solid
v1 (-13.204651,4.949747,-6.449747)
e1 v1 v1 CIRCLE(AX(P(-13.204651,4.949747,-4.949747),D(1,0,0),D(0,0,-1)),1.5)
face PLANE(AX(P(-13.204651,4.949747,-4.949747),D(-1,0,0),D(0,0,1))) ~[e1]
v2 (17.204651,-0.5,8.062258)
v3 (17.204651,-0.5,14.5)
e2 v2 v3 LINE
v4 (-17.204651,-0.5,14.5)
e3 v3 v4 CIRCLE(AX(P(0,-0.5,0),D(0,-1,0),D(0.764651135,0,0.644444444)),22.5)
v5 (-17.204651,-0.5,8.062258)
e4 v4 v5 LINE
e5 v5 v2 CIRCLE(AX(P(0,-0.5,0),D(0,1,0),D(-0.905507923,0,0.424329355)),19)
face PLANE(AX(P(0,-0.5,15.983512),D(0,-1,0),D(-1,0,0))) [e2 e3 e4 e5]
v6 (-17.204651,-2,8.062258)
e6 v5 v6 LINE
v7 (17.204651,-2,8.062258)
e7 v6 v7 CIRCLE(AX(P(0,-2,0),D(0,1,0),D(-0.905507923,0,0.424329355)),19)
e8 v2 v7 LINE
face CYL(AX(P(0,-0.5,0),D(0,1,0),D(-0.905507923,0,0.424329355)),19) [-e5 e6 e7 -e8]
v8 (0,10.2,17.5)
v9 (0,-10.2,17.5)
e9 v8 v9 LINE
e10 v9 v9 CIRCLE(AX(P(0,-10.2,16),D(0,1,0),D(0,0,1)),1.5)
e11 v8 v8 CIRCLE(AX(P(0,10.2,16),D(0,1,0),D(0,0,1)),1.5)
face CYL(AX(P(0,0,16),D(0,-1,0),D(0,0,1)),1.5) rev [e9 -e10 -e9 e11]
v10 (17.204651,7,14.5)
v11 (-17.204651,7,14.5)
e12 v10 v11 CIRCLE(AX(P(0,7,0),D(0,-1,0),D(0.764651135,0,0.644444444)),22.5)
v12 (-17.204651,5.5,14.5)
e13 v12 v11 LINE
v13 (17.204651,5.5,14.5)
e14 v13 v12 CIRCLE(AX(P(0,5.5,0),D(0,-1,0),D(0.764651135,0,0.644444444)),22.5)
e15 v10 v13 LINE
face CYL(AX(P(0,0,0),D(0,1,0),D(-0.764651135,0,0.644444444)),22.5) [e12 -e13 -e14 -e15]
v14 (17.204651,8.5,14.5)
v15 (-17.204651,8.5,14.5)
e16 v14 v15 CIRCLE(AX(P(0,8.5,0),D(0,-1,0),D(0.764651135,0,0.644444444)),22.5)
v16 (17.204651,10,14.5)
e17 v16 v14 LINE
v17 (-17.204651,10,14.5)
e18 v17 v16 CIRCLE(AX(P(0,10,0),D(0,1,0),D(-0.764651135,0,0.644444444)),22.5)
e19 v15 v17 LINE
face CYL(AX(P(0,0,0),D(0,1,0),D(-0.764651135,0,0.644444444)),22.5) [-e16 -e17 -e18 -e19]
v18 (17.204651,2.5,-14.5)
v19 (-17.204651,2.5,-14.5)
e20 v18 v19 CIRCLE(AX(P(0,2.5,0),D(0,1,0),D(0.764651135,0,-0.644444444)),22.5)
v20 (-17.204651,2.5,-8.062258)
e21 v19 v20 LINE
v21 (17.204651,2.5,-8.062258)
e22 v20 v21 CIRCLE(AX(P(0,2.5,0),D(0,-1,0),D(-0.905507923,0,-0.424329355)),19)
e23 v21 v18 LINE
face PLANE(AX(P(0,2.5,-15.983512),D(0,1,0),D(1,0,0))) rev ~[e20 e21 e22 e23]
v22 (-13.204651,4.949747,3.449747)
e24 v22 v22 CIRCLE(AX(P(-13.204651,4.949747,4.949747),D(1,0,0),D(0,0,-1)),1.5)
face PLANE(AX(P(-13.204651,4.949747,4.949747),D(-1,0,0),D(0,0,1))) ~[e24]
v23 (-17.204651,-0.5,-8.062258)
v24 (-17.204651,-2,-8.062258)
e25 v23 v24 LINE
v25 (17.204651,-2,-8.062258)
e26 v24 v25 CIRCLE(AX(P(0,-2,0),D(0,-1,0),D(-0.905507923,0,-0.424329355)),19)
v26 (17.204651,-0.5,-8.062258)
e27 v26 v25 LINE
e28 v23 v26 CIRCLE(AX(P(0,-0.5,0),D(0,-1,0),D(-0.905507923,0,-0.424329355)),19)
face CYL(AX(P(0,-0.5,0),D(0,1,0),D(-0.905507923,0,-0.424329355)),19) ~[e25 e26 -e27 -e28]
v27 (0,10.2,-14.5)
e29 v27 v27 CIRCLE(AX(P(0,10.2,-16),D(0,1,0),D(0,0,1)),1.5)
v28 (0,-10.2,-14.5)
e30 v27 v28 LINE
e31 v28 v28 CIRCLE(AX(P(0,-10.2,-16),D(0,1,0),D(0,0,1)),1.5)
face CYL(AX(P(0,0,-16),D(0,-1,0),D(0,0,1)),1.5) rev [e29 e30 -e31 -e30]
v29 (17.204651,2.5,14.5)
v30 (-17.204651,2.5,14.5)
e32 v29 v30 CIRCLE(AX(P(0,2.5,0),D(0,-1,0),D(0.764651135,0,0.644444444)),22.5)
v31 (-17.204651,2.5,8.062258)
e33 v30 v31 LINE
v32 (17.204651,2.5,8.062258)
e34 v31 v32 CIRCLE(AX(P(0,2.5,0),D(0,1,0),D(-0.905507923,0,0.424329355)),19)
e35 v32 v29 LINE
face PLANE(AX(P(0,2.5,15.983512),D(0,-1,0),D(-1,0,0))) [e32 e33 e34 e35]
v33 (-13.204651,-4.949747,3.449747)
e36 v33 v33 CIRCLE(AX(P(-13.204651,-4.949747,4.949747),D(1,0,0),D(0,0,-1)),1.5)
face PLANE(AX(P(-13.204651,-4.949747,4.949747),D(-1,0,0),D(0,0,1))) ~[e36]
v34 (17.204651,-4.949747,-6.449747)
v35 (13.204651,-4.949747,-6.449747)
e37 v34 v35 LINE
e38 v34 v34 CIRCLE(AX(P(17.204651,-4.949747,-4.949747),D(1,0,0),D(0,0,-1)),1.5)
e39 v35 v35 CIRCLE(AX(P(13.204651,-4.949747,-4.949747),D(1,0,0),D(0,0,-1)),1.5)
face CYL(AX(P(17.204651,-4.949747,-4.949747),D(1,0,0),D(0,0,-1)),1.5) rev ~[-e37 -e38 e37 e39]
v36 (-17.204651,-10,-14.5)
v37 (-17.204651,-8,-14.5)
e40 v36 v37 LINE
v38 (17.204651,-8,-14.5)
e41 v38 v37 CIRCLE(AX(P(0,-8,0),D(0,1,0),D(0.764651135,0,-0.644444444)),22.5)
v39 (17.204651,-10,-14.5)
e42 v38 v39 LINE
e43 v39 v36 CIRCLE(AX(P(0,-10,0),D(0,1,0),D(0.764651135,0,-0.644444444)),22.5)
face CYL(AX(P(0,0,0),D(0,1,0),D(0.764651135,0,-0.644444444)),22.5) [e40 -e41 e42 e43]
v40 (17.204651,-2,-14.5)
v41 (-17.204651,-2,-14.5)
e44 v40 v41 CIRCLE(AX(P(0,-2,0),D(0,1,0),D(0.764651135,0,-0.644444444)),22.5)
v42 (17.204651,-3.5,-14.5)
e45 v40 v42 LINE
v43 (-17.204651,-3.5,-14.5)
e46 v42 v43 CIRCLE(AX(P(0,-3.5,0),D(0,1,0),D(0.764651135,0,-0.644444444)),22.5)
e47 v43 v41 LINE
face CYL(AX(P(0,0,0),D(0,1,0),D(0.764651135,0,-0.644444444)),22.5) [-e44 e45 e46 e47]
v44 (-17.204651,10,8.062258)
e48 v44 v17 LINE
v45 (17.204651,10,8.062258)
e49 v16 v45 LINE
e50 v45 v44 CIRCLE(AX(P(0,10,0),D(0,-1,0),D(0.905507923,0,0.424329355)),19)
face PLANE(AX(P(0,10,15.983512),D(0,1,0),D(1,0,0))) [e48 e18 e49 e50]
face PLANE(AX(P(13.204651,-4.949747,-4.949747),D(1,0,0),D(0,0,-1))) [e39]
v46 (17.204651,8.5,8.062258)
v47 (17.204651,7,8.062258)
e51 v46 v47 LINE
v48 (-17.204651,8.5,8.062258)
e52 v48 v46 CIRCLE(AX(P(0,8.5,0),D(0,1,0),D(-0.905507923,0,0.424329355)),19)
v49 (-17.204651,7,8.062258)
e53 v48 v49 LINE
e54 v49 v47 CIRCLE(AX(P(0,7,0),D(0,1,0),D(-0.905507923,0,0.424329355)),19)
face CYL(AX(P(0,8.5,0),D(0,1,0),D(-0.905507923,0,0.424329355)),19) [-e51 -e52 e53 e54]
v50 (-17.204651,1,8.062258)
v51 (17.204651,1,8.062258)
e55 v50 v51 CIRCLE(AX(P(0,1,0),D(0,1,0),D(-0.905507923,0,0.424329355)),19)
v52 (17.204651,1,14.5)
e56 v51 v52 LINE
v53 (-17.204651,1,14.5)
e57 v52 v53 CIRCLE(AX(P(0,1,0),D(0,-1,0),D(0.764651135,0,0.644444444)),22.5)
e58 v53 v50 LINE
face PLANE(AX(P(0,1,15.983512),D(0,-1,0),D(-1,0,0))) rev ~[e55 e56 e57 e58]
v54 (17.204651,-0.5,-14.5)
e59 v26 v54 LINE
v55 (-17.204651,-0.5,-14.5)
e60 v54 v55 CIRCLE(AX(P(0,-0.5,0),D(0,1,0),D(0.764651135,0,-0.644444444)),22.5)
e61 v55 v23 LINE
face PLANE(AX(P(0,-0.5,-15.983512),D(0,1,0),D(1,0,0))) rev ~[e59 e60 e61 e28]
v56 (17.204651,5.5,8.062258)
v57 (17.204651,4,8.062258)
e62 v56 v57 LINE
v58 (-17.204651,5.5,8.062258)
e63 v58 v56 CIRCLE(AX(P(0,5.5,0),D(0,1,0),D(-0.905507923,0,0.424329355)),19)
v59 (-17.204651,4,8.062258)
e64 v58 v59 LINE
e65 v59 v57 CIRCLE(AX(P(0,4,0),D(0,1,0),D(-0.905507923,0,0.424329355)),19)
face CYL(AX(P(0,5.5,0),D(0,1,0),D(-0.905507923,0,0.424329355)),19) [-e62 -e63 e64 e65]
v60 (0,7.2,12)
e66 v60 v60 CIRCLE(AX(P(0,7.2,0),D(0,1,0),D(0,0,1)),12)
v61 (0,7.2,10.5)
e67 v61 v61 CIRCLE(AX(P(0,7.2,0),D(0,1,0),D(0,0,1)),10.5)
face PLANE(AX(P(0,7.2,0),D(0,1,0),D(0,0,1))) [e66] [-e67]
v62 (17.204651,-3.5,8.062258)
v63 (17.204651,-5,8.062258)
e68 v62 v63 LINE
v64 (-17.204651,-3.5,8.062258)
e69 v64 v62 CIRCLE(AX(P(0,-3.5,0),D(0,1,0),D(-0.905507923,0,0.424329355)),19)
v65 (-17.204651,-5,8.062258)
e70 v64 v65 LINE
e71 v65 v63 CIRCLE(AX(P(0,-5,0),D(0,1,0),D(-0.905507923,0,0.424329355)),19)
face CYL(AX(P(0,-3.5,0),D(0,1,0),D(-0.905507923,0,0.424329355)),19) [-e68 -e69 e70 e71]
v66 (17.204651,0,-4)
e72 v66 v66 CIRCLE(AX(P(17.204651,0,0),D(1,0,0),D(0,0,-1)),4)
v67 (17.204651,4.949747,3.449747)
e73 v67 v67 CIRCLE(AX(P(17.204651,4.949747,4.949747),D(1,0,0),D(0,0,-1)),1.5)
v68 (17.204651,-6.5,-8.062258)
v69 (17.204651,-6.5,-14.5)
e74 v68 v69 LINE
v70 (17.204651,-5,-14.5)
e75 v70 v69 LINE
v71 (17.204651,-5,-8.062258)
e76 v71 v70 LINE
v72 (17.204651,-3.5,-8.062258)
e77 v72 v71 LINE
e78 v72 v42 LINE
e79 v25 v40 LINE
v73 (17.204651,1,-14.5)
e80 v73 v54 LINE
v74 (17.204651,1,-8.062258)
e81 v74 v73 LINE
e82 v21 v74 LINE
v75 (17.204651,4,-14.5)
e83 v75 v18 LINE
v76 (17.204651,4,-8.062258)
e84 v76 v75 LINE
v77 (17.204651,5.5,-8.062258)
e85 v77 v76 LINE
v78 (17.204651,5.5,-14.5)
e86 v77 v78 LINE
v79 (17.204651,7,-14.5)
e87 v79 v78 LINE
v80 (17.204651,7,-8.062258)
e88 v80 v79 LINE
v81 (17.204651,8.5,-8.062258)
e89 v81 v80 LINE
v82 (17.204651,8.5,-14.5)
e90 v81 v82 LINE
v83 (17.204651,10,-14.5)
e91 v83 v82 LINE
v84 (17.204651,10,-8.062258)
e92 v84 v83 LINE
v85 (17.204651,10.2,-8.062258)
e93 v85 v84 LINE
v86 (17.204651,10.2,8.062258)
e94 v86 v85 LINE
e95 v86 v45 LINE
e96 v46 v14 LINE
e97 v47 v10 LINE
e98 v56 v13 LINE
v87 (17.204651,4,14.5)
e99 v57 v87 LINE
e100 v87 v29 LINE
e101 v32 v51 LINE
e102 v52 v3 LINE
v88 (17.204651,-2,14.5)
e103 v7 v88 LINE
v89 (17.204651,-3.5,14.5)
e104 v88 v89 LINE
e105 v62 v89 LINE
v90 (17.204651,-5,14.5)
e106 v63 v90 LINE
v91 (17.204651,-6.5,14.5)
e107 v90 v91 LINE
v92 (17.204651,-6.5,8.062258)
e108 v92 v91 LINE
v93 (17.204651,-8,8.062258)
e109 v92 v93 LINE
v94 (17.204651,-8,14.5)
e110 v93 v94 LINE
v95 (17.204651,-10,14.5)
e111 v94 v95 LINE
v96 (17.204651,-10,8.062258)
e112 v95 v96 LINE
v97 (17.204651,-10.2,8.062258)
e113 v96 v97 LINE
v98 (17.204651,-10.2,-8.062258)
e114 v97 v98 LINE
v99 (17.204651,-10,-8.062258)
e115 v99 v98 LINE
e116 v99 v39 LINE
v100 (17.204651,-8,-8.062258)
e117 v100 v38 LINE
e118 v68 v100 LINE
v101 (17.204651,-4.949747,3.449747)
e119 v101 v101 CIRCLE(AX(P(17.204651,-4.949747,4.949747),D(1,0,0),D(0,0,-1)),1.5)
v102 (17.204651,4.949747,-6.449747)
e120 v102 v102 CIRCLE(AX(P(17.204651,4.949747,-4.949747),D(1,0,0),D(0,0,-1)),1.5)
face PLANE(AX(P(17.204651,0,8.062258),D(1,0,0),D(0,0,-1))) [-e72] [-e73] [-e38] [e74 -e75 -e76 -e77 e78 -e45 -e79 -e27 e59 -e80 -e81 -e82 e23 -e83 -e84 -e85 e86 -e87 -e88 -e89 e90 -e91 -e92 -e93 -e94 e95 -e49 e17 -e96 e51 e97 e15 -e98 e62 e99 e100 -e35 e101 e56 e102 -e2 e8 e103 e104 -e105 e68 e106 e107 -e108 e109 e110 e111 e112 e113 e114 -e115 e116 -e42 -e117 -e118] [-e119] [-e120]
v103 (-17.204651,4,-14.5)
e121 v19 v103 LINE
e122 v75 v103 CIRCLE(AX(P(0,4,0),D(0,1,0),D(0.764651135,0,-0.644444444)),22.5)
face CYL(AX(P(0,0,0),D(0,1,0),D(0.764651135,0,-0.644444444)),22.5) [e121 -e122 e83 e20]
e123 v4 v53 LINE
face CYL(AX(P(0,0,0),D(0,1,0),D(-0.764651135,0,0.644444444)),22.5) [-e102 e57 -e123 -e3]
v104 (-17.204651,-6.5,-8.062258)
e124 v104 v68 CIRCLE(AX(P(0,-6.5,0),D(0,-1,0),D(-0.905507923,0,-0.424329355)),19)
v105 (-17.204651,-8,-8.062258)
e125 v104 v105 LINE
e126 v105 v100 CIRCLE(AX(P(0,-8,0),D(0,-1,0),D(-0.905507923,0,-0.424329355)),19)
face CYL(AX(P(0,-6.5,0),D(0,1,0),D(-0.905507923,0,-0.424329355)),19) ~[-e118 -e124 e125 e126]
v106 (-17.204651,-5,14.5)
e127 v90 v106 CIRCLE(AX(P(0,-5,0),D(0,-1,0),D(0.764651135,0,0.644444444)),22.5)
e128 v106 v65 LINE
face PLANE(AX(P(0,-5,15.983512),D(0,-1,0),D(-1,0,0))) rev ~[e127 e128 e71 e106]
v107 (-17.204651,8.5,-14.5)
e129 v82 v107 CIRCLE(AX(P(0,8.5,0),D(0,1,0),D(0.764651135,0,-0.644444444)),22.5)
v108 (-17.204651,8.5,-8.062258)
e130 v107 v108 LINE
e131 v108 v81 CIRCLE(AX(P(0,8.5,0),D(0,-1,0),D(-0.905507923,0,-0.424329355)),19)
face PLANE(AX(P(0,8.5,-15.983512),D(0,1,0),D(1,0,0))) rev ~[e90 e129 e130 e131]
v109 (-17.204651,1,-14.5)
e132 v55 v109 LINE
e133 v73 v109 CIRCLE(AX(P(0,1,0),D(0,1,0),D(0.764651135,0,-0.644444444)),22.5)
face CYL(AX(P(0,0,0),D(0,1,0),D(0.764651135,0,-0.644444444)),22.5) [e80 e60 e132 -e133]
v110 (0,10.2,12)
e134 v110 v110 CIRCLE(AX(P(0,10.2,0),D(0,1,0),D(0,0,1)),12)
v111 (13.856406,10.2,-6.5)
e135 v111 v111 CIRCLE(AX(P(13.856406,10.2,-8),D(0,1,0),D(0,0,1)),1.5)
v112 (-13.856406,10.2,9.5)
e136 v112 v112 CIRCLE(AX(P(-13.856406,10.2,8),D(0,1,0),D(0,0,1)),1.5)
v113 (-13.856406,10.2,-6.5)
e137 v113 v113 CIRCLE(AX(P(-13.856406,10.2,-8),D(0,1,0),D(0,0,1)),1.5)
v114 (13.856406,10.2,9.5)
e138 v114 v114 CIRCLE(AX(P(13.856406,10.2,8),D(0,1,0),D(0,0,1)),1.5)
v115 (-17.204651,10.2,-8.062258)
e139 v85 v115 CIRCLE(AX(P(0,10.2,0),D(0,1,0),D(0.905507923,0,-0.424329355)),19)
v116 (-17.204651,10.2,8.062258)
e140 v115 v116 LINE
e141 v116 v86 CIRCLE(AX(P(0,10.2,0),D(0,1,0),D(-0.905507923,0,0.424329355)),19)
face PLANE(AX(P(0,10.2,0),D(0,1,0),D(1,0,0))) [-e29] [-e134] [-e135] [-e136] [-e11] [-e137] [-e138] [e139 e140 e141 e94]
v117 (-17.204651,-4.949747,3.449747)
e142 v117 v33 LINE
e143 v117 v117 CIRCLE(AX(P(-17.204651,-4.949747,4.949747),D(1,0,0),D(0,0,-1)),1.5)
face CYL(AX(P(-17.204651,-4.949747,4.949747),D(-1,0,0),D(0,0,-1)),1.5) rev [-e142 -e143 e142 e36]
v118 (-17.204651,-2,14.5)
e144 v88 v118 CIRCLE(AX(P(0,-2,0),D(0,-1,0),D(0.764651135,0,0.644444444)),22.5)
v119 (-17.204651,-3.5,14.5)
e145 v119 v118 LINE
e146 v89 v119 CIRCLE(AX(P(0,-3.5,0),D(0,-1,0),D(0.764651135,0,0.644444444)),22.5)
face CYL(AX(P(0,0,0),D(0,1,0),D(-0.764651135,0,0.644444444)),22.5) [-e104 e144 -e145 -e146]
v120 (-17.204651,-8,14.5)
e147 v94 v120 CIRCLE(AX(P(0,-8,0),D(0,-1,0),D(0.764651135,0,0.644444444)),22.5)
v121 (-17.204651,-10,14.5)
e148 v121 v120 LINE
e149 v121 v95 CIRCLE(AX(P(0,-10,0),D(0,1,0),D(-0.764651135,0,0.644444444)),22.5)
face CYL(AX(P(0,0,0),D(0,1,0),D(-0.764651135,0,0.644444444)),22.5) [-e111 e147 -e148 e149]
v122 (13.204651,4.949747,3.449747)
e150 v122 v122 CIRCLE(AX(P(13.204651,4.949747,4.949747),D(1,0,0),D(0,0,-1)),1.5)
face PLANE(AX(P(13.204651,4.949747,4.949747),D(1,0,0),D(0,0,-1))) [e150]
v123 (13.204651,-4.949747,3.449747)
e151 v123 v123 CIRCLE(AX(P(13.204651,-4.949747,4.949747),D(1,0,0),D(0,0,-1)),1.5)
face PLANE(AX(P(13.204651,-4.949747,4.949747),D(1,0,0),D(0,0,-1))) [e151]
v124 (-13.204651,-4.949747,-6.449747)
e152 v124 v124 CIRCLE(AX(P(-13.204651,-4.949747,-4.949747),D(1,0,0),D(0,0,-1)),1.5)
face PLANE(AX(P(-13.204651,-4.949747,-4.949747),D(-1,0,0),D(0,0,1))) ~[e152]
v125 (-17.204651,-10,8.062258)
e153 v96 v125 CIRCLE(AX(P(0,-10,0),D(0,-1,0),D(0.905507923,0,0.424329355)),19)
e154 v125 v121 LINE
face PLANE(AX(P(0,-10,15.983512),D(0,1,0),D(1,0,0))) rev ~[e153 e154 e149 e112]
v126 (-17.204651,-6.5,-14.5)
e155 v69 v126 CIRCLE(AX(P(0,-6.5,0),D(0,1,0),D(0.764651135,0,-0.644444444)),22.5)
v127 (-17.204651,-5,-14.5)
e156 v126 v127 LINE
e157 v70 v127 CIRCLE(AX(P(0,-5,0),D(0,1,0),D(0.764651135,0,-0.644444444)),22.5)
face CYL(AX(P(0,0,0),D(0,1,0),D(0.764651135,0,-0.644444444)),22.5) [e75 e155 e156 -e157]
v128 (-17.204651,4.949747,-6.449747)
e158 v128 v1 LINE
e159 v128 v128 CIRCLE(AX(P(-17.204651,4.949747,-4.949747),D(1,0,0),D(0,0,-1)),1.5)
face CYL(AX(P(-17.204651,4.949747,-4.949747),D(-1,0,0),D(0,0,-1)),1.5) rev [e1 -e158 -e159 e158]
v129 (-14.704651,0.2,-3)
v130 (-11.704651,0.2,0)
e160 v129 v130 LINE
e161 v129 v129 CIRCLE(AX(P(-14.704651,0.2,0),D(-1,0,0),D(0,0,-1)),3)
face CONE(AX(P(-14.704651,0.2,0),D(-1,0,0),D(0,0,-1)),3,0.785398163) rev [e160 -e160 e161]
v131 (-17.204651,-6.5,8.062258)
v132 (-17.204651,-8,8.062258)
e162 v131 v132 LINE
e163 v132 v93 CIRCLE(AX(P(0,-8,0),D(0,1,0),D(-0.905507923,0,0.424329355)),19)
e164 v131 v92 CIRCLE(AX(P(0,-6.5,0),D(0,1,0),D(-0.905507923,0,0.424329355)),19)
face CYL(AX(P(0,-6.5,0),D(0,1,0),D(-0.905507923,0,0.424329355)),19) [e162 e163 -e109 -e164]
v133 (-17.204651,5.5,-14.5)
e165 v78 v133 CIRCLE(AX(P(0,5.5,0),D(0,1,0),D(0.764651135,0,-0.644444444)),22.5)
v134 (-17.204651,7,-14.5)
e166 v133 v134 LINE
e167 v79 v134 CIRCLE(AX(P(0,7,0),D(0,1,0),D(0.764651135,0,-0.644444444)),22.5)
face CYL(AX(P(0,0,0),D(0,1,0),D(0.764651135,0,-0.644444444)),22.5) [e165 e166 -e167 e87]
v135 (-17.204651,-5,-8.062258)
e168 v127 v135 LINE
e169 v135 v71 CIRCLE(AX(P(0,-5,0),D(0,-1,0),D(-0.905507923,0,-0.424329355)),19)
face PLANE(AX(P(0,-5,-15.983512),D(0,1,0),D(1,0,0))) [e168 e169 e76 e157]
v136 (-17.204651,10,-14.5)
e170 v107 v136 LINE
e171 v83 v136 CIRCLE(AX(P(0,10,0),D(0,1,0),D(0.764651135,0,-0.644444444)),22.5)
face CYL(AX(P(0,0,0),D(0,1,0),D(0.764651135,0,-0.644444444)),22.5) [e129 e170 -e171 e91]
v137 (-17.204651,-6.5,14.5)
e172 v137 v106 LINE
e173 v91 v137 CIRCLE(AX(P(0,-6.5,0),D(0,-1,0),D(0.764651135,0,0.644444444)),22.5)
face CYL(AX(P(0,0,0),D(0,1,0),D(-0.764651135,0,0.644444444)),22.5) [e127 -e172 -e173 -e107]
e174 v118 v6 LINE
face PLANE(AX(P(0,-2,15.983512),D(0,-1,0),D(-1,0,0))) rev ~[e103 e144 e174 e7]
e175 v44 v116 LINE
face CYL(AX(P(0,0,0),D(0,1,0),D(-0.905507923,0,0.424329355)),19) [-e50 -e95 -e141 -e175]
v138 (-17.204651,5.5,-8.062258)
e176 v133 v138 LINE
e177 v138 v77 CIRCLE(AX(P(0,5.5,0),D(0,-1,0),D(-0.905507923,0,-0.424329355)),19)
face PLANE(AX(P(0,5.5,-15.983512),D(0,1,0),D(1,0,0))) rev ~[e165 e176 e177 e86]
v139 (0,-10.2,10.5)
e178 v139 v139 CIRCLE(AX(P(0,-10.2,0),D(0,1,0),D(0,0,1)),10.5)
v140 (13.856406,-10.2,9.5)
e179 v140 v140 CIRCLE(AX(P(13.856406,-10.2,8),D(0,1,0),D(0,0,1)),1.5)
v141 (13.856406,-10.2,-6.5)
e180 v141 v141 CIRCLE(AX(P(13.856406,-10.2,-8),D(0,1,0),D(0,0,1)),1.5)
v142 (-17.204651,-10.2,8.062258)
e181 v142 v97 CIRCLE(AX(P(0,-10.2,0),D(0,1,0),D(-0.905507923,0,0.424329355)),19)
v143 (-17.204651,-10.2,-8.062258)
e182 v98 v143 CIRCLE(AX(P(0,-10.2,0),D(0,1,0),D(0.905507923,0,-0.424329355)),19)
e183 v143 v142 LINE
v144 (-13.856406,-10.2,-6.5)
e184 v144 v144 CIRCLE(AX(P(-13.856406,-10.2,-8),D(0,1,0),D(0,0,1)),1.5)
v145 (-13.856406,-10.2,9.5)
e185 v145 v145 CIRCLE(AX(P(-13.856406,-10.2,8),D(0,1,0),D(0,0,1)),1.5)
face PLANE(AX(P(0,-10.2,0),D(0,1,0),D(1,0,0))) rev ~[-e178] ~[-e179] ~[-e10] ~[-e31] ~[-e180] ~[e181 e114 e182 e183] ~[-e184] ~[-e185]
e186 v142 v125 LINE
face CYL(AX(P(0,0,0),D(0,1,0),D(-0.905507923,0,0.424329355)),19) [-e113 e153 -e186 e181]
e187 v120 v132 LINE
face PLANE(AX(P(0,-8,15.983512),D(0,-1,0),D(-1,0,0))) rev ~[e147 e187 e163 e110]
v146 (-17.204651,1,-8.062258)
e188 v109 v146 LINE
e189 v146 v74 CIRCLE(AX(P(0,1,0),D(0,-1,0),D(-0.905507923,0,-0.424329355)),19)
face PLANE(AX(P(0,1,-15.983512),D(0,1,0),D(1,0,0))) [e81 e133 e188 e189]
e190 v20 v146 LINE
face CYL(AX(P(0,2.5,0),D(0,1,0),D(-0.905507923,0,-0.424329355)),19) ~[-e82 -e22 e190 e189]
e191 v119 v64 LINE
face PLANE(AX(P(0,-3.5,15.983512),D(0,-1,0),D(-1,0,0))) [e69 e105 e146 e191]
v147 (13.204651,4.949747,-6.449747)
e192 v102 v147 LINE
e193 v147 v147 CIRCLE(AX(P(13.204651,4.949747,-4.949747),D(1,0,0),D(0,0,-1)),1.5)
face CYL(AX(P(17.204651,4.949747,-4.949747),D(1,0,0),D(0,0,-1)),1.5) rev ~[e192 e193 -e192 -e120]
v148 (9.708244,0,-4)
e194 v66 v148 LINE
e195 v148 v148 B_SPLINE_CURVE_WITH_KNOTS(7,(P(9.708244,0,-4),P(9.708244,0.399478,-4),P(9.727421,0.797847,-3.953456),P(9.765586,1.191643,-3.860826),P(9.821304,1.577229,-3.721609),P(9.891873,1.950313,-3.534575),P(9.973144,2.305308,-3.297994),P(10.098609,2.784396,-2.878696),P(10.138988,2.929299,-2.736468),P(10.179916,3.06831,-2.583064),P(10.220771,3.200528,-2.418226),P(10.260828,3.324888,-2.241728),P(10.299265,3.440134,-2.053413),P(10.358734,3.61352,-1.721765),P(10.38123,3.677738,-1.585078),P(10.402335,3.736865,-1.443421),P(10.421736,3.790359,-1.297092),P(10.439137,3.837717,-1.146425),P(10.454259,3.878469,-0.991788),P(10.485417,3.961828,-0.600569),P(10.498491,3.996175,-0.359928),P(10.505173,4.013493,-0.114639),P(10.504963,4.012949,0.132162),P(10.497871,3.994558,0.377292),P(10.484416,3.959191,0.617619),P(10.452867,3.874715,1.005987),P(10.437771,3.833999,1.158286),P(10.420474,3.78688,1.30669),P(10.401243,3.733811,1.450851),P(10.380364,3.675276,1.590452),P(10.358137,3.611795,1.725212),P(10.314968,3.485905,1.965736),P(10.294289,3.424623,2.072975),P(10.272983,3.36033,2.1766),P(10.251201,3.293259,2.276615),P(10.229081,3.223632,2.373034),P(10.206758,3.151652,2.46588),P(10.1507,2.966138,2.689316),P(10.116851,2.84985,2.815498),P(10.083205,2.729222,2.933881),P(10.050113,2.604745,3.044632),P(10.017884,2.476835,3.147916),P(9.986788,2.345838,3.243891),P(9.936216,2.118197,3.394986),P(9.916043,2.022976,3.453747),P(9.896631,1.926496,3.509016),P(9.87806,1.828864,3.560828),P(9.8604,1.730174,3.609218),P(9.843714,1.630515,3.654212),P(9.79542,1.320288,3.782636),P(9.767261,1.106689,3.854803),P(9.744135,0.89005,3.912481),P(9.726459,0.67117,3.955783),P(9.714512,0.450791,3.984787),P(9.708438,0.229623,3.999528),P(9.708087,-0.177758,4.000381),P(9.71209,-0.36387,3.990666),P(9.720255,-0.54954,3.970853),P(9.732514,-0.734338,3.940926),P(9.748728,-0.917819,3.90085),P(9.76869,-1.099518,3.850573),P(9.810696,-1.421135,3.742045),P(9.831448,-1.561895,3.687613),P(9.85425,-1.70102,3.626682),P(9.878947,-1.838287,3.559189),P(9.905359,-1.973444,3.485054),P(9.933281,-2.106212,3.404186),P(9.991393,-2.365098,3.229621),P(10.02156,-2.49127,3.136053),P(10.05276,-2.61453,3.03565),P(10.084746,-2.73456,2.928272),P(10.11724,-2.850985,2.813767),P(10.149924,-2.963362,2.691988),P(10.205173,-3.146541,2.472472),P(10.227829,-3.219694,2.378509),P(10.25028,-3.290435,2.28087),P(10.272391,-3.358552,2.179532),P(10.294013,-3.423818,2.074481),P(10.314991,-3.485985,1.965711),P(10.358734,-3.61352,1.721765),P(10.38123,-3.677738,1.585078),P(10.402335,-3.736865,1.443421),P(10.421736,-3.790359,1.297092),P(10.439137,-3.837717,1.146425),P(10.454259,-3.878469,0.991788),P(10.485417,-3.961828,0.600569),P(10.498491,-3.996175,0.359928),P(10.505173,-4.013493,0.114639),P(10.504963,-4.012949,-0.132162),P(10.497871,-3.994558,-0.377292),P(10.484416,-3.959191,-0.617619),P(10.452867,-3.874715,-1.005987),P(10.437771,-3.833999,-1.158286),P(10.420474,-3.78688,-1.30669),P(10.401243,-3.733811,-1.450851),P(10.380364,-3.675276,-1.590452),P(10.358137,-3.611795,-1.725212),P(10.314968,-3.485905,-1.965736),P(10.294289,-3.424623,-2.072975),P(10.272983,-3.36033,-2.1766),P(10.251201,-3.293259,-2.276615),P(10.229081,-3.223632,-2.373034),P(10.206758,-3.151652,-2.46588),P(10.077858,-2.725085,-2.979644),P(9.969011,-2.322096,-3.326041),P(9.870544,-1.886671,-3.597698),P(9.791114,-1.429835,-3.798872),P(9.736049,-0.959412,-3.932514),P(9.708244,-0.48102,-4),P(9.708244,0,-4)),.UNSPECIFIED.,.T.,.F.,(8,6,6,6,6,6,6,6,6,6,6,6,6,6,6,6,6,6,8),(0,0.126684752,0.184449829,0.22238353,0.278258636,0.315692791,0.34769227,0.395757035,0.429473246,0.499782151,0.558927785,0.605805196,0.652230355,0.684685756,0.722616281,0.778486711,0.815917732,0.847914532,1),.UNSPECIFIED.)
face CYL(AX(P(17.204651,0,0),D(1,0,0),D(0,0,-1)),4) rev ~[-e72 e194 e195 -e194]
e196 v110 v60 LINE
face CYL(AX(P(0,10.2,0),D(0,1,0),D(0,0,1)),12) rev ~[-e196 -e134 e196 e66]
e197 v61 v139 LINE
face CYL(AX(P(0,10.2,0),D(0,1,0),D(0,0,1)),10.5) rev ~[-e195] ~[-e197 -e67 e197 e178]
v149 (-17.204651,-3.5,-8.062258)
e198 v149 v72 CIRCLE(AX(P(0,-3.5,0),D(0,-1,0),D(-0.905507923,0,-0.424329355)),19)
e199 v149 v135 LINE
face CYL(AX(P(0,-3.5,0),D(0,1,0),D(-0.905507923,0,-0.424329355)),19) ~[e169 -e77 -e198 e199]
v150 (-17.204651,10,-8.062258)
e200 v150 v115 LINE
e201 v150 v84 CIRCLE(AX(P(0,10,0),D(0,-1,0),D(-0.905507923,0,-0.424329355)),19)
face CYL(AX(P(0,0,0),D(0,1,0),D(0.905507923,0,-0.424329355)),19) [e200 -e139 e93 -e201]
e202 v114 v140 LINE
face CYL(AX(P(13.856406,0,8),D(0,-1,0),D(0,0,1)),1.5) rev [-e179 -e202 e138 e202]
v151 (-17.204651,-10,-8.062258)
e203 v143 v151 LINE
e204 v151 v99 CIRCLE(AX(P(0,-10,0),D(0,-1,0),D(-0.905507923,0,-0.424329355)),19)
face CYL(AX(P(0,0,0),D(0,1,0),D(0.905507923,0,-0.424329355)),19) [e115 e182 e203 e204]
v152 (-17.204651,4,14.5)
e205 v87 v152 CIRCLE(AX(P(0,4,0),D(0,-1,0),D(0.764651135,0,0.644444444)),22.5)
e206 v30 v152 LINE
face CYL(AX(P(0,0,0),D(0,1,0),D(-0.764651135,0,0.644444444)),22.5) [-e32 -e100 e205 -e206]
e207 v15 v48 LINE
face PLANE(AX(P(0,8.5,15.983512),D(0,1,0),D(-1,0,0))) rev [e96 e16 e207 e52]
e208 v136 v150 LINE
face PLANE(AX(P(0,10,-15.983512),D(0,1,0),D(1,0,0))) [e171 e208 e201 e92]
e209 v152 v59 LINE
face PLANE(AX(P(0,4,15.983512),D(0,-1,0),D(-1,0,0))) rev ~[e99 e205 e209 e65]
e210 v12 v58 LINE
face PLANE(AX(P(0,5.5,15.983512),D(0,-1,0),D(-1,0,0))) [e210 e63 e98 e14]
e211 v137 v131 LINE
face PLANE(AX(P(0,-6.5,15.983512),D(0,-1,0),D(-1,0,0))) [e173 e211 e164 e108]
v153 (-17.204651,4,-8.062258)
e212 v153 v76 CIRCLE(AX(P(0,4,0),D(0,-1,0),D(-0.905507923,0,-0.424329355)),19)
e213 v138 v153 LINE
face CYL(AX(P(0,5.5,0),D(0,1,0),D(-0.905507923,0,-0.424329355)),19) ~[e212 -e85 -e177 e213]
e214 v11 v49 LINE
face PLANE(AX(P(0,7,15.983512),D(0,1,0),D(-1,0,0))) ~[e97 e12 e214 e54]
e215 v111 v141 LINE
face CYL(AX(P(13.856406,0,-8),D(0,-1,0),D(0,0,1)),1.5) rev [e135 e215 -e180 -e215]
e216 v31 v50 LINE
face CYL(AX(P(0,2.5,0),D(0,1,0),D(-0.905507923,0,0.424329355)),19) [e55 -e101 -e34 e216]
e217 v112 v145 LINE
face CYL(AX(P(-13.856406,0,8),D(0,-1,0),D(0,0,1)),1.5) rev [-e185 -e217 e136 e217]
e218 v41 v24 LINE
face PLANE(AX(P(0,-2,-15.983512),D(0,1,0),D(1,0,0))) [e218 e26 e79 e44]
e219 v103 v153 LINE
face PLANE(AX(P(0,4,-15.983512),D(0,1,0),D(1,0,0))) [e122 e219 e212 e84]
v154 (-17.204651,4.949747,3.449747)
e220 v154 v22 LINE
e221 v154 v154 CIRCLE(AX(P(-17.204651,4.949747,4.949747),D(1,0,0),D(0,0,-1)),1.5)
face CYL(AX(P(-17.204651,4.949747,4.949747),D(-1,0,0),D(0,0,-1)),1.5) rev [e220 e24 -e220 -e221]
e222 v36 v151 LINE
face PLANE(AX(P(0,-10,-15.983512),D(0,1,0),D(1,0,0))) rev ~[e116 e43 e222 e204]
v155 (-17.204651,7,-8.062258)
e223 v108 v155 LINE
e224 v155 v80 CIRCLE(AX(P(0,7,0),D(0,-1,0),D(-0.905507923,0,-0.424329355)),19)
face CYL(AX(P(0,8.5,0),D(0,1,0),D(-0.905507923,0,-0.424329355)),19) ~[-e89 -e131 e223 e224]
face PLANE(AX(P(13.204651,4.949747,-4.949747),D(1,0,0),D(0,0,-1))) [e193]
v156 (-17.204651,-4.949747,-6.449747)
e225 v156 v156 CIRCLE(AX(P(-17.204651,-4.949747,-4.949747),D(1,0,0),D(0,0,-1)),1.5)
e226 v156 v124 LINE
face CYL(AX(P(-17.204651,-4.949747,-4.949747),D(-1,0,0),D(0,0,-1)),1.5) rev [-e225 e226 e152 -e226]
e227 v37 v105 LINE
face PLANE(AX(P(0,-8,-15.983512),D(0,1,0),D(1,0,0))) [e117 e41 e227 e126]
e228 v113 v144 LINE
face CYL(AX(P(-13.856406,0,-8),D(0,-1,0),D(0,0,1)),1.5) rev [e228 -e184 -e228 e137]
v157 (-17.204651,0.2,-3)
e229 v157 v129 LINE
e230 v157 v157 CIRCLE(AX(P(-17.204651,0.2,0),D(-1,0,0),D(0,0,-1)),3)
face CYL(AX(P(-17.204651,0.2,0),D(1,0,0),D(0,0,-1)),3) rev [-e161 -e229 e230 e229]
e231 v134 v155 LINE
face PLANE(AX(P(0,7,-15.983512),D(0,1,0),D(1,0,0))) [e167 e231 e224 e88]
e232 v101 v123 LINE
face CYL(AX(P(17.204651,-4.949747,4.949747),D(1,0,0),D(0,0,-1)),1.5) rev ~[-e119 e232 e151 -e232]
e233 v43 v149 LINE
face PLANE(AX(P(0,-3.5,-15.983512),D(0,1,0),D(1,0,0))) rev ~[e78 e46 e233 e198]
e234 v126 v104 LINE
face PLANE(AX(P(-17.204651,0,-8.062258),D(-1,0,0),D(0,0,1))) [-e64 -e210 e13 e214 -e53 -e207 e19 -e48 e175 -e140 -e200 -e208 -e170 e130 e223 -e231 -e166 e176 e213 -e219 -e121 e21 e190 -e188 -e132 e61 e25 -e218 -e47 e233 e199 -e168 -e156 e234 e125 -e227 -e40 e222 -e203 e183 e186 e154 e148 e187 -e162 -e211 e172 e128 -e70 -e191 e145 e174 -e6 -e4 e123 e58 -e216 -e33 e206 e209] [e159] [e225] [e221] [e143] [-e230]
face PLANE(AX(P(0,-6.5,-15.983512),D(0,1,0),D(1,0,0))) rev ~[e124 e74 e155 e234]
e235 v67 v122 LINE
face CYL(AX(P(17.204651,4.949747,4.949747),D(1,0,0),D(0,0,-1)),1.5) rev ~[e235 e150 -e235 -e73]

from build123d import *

# Parameters (mm, degrees)
BOSS_EXTRUDE1_DEPTH     = 10
BOSS_EXTRUDE1_2_DEPTH   = 10
SKETCH1_4_R             = 1.5
BOSS_EXTRUDE2_DEPTH     = 10.2
SKETCH2_R               = 10.5
CUT_EXTRUDE1_DEPTH      = 35.905730189
SKETCH2_3_R             = 12
CUT_EXTRUDE2_DEPTH      = 3
CUT_EXTRUDE3_DEPTH      = 1.5
LPATTERN2_COUNT         = 6
LPATTERN2_PITCH         = 3
MIRROR1_COPY_1_DEPTH    = 1.5
MIRROR1_COPY_2_DEPTH    = 1.5
MIRROR1_COPY_3_DEPTH    = 1.5
MIRROR1_COPY_4_DEPTH    = 1.5
MIRROR1_COPY_5_DEPTH    = 1.5
CUT_EXTRUDE4_REACH      = 44.359
CUT_EXTRUDE4_END_RADIUS = 10.5
SKETCH4_R               = 4
SKETCH5_R               = 1.5
CUT_EXTRUDE5_DEPTH      = 4


with BuildPart() as part:
    # Sketch1 → Boss-Extrude1 (new, symmetric)
    with BuildSketch(Plane(origin=(0, 0, 0), x_dir=(1, 0, 0), z_dir=(0, 1, 0))):
        with BuildLine():
            ThreePointArc((17.204650534, 14.5), (0, 22.5), (-17.204650534, 14.5))
            Line((-17.204650534, 14.5), (-17.204650534, 8.062257748))
            ThreePointArc((-17.204650534, 8.062257748), (0, 19), (17.204650534, 8.062257748))
            Line((17.204650534, 8.062257748), (17.204650534, 14.5))
        make_face()
    extrude(amount=BOSS_EXTRUDE1_DEPTH, both=True)



with BuildPart() as body_2:
    # Sketch1 → Boss-Extrude1 2 (new, symmetric)
    with BuildSketch(Plane(origin=(0, 0, 0), x_dir=(1, 0, 0), z_dir=(0, 1, 0))):
        with BuildLine():
            ThreePointArc((17.204650534, -8.062257748), (0, -19), (-17.204650534, -8.062257748))
            Line((-17.204650534, -8.062257748), (-17.204650534, -14.5))
            ThreePointArc((-17.204650534, -14.5), (0, -22.5), (17.204650534, -14.5))
            Line((17.204650534, -14.5), (17.204650534, -8.062257748))
        make_face()
    extrude(amount=BOSS_EXTRUDE1_2_DEPTH, both=True)


with BuildPart() as part_1:
    add(part.part)

    add(body_2.part)  # Boss-Extrude2 merges body 2
    # Sketch1<4> → Boss-Extrude2 (add, symmetric)
    with BuildSketch(Plane(origin=(0, 0, 0), x_dir=(1, 0, 0), z_dir=(0, 1, 0))):
        with BuildLine():
            ThreePointArc((17.204650534, 8.062257748), (0, 19), (-17.204650534, 8.062257748))
            Line((-17.204650534, 8.062257748), (-17.204650534, -8.062257748))
            ThreePointArc((-17.204650534, -8.062257748), (0, -19), (17.204650534, -8.062257748))
            Line((17.204650534, -8.062257748), (17.204650534, 8.062257748))
        make_face()
        with Locations(Location((-13.856406461, -8, 0), (0, 0, 270))):
            Circle(SKETCH1_4_R, mode=Mode.SUBTRACT)
        with Locations(Location((0, -16, 0), (0, 0, 270))):
            Circle(SKETCH1_4_R, mode=Mode.SUBTRACT)
        with Locations(Location((13.856406461, -8, 0), (0, 0, 270))):
            Circle(SKETCH1_4_R, mode=Mode.SUBTRACT)
        with Locations(Location((-13.856406461, 8, 0), (0, 0, 270))):
            Circle(SKETCH1_4_R, mode=Mode.SUBTRACT)
        with Locations(Location((13.856406461, 8, 0), (0, 0, 270))):
            Circle(SKETCH1_4_R, mode=Mode.SUBTRACT)
        with Locations(Location((0, 16, 0), (0, 0, 270))):
            Circle(SKETCH1_4_R, mode=Mode.SUBTRACT)
    extrude(amount=BOSS_EXTRUDE2_DEPTH, both=True)

    # Sketch2 → Cut-Extrude1 (cut, through all)
    with BuildSketch(Plane(origin=(0, 10.2, 0), x_dir=(1, 0, 0), z_dir=(0, 1, 0))):
        with Locations(Location((0, 0, 0), (0, 0, 270))):
            Circle(SKETCH2_R)
    extrude(amount=-CUT_EXTRUDE1_DEPTH, mode=Mode.SUBTRACT)

    # Sketch2<3> → Cut-Extrude2 (cut)
    with BuildSketch(Plane(origin=(0, 10.2, 0), x_dir=(1, 0, 0), z_dir=(0, 1, 0))):
        with Locations(Location((0, 0, 0), (0, 0, 270))):
            Circle(SKETCH2_3_R)
    extrude(amount=-CUT_EXTRUDE2_DEPTH, mode=Mode.SUBTRACT)

    # Sketch3 → Cut-Extrude3 (cut)
    with BuildSketch(Plane(origin=(0, 8.5, 0), x_dir=(1, 0, 0), z_dir=(0, 1, 0))):
        with BuildLine():
            Line((17.204650534, 8.062257748), (17.204650534, 14.5))
            ThreePointArc((17.204650534, 14.5), (0, 22.5), (-17.204650534, 14.5))
            Line((-17.204650534, 14.5), (-17.204650534, 8.062257748))
            ThreePointArc((-17.204650534, 8.062257748), (0, 19), (17.204650534, 8.062257748))
        make_face()
    cut_extrude3 = extrude(amount=-CUT_EXTRUDE3_DEPTH, mode=Mode.SUBTRACT)

    # LPattern2: Cut-Extrude3 ×6
    with Locations(*[(0, -i * LPATTERN2_PITCH, 0) for i in range(1, LPATTERN2_COUNT)]):
        add(cut_extrude3, mode=Mode.SUBTRACT)

    # Mirror1: Cut-Extrude3 across plane
    add(cut_extrude3.mirror(Plane.XY), mode=Mode.SUBTRACT)

    # Mirror1 copy 1 sketch → Mirror1 copy 1 (cut)
    with BuildSketch(Plane(origin=(0, 5.5, 0), x_dir=(1, 0, 0), z_dir=(0, 1, 0))):
        with BuildLine():
            Line((17.204650534, -8.062257748), (17.204650534, -14.5))
            ThreePointArc((17.204650534, -14.5), (0, -22.5), (-17.204650534, -14.5))
            Line((-17.204650534, -14.5), (-17.204650534, -8.062257748))
            ThreePointArc((-17.204650534, -8.062257748), (0, -19), (17.204650534, -8.062257748))
        make_face()
    extrude(amount=-MIRROR1_COPY_1_DEPTH, mode=Mode.SUBTRACT)

    # Mirror1 copy 2 sketch → Mirror1 copy 2 (cut)
    with BuildSketch(Plane(origin=(0, 2.5, 0), x_dir=(1, 0, 0), z_dir=(0, 1, 0))):
        with BuildLine():
            Line((17.204650534, -8.062257748), (17.204650534, -14.5))
            ThreePointArc((17.204650534, -14.5), (0, -22.5), (-17.204650534, -14.5))
            Line((-17.204650534, -14.5), (-17.204650534, -8.062257748))
            ThreePointArc((-17.204650534, -8.062257748), (0, -19), (17.204650534, -8.062257748))
        make_face()
    extrude(amount=-MIRROR1_COPY_2_DEPTH, mode=Mode.SUBTRACT)

    # Mirror1 copy 3 sketch → Mirror1 copy 3 (cut)
    with BuildSketch(Plane(origin=(0, -0.5, 0), x_dir=(1, 0, 0), z_dir=(0, 1, 0))):
        with BuildLine():
            Line((17.204650534, -8.062257748), (17.204650534, -14.5))
            ThreePointArc((17.204650534, -14.5), (0, -22.5), (-17.204650534, -14.5))
            Line((-17.204650534, -14.5), (-17.204650534, -8.062257748))
            ThreePointArc((-17.204650534, -8.062257748), (0, -19), (17.204650534, -8.062257748))
        make_face()
    extrude(amount=-MIRROR1_COPY_3_DEPTH, mode=Mode.SUBTRACT)

    # Mirror1 copy 4 sketch → Mirror1 copy 4 (cut)
    with BuildSketch(Plane(origin=(0, -3.5, 0), x_dir=(1, 0, 0), z_dir=(0, 1, 0))):
        with BuildLine():
            Line((17.204650534, -8.062257748), (17.204650534, -14.5))
            ThreePointArc((17.204650534, -14.5), (0, -22.5), (-17.204650534, -14.5))
            Line((-17.204650534, -14.5), (-17.204650534, -8.062257748))
            ThreePointArc((-17.204650534, -8.062257748), (0, -19), (17.204650534, -8.062257748))
        make_face()
    extrude(amount=-MIRROR1_COPY_4_DEPTH, mode=Mode.SUBTRACT)

    # Mirror1 copy 5 sketch → Mirror1 copy 5 (cut)
    with BuildSketch(Plane(origin=(0, -6.5, 0), x_dir=(1, 0, 0), z_dir=(0, 1, 0))):
        with BuildLine():
            Line((17.204650534, -8.062257748), (17.204650534, -14.5))
            ThreePointArc((17.204650534, -14.5), (0, -22.5), (-17.204650534, -14.5))
            Line((-17.204650534, -14.5), (-17.204650534, -8.062257748))
            ThreePointArc((-17.204650534, -8.062257748), (0, -19), (17.204650534, -8.062257748))
        make_face()
    extrude(amount=-MIRROR1_COPY_5_DEPTH, mode=Mode.SUBTRACT)

    # Cut-Extrude4: up to this cylinder (the profile starts outside it)
    cut_extrude4_end = Plane(origin=(0, 0, 0), z_dir=(0, 1, 0)) * Cylinder(CUT_EXTRUDE4_END_RADIUS, 110.718, mode=Mode.PRIVATE)
    # Sketch4 → Cut-Extrude4 (cut, up to the surface)
    with BuildSketch(Plane(origin=(17.204650534, 0, 0), x_dir=(0, 0, -1), z_dir=(1, 0, 0)), mode=Mode.PRIVATE) as cut_extrude4_sk1:
        Circle(SKETCH4_R)
    cut_extrude4_tool1 = extrude(cut_extrude4_sk1.sketch, amount=-CUT_EXTRUDE4_REACH, mode=Mode.PRIVATE) - cut_extrude4_end
    add(cut_extrude4_tool1.solids().sort_by_distance((17.204651, 0, 0))[0], mode=Mode.SUBTRACT)

    # Sketch5 → Cut-Extrude5 (cut)
    with BuildSketch(Plane(origin=(17.204650534, 0, 0), x_dir=(0, 0, -1), z_dir=(1, 0, 0))):
        with Locations((4.949747468, 4.949747468)):
            Circle(SKETCH5_R)
        with Locations((4.949747468, -4.949747468)):
            Circle(SKETCH5_R)
        with Locations((-4.949747468, -4.949747468)):
            Circle(SKETCH5_R)
        with Locations((-4.949747468, 4.949747468)):
            Circle(SKETCH5_R)
    cut_extrude5 = extrude(amount=-CUT_EXTRUDE5_DEPTH, mode=Mode.SUBTRACT)

    # Sketch6 → Cut-Revolve1 (revolve, cut)
    with BuildSketch(Plane(origin=(0, 0.2, 0), x_dir=(1, 0, 0), z_dir=(0, 1, 0)), mode=Mode.PRIVATE) as cut_revolve1_sk:
        Polygon((-17.204650534, -3), (-14.704650534, -3), (-11.704650534, 0), (-17.204650534, 0), align=None)
    revolve(cut_revolve1_sk.sketch.rotate(Axis((-11.704650534, 0.2, 0), (-1, 0, 0)), 180), axis=Axis((-11.704650534, 0.2, 0), (-1, 0, 0)), mode=Mode.SUBTRACT)

    # Mirror2: Cut-Extrude5 across plane
    add(cut_extrude5.mirror(Plane(origin=(0, 0, 0), x_dir=(0, 0, 1), z_dir=(1, 0, 0))), mode=Mode.SUBTRACT)


solid = part_1.part
